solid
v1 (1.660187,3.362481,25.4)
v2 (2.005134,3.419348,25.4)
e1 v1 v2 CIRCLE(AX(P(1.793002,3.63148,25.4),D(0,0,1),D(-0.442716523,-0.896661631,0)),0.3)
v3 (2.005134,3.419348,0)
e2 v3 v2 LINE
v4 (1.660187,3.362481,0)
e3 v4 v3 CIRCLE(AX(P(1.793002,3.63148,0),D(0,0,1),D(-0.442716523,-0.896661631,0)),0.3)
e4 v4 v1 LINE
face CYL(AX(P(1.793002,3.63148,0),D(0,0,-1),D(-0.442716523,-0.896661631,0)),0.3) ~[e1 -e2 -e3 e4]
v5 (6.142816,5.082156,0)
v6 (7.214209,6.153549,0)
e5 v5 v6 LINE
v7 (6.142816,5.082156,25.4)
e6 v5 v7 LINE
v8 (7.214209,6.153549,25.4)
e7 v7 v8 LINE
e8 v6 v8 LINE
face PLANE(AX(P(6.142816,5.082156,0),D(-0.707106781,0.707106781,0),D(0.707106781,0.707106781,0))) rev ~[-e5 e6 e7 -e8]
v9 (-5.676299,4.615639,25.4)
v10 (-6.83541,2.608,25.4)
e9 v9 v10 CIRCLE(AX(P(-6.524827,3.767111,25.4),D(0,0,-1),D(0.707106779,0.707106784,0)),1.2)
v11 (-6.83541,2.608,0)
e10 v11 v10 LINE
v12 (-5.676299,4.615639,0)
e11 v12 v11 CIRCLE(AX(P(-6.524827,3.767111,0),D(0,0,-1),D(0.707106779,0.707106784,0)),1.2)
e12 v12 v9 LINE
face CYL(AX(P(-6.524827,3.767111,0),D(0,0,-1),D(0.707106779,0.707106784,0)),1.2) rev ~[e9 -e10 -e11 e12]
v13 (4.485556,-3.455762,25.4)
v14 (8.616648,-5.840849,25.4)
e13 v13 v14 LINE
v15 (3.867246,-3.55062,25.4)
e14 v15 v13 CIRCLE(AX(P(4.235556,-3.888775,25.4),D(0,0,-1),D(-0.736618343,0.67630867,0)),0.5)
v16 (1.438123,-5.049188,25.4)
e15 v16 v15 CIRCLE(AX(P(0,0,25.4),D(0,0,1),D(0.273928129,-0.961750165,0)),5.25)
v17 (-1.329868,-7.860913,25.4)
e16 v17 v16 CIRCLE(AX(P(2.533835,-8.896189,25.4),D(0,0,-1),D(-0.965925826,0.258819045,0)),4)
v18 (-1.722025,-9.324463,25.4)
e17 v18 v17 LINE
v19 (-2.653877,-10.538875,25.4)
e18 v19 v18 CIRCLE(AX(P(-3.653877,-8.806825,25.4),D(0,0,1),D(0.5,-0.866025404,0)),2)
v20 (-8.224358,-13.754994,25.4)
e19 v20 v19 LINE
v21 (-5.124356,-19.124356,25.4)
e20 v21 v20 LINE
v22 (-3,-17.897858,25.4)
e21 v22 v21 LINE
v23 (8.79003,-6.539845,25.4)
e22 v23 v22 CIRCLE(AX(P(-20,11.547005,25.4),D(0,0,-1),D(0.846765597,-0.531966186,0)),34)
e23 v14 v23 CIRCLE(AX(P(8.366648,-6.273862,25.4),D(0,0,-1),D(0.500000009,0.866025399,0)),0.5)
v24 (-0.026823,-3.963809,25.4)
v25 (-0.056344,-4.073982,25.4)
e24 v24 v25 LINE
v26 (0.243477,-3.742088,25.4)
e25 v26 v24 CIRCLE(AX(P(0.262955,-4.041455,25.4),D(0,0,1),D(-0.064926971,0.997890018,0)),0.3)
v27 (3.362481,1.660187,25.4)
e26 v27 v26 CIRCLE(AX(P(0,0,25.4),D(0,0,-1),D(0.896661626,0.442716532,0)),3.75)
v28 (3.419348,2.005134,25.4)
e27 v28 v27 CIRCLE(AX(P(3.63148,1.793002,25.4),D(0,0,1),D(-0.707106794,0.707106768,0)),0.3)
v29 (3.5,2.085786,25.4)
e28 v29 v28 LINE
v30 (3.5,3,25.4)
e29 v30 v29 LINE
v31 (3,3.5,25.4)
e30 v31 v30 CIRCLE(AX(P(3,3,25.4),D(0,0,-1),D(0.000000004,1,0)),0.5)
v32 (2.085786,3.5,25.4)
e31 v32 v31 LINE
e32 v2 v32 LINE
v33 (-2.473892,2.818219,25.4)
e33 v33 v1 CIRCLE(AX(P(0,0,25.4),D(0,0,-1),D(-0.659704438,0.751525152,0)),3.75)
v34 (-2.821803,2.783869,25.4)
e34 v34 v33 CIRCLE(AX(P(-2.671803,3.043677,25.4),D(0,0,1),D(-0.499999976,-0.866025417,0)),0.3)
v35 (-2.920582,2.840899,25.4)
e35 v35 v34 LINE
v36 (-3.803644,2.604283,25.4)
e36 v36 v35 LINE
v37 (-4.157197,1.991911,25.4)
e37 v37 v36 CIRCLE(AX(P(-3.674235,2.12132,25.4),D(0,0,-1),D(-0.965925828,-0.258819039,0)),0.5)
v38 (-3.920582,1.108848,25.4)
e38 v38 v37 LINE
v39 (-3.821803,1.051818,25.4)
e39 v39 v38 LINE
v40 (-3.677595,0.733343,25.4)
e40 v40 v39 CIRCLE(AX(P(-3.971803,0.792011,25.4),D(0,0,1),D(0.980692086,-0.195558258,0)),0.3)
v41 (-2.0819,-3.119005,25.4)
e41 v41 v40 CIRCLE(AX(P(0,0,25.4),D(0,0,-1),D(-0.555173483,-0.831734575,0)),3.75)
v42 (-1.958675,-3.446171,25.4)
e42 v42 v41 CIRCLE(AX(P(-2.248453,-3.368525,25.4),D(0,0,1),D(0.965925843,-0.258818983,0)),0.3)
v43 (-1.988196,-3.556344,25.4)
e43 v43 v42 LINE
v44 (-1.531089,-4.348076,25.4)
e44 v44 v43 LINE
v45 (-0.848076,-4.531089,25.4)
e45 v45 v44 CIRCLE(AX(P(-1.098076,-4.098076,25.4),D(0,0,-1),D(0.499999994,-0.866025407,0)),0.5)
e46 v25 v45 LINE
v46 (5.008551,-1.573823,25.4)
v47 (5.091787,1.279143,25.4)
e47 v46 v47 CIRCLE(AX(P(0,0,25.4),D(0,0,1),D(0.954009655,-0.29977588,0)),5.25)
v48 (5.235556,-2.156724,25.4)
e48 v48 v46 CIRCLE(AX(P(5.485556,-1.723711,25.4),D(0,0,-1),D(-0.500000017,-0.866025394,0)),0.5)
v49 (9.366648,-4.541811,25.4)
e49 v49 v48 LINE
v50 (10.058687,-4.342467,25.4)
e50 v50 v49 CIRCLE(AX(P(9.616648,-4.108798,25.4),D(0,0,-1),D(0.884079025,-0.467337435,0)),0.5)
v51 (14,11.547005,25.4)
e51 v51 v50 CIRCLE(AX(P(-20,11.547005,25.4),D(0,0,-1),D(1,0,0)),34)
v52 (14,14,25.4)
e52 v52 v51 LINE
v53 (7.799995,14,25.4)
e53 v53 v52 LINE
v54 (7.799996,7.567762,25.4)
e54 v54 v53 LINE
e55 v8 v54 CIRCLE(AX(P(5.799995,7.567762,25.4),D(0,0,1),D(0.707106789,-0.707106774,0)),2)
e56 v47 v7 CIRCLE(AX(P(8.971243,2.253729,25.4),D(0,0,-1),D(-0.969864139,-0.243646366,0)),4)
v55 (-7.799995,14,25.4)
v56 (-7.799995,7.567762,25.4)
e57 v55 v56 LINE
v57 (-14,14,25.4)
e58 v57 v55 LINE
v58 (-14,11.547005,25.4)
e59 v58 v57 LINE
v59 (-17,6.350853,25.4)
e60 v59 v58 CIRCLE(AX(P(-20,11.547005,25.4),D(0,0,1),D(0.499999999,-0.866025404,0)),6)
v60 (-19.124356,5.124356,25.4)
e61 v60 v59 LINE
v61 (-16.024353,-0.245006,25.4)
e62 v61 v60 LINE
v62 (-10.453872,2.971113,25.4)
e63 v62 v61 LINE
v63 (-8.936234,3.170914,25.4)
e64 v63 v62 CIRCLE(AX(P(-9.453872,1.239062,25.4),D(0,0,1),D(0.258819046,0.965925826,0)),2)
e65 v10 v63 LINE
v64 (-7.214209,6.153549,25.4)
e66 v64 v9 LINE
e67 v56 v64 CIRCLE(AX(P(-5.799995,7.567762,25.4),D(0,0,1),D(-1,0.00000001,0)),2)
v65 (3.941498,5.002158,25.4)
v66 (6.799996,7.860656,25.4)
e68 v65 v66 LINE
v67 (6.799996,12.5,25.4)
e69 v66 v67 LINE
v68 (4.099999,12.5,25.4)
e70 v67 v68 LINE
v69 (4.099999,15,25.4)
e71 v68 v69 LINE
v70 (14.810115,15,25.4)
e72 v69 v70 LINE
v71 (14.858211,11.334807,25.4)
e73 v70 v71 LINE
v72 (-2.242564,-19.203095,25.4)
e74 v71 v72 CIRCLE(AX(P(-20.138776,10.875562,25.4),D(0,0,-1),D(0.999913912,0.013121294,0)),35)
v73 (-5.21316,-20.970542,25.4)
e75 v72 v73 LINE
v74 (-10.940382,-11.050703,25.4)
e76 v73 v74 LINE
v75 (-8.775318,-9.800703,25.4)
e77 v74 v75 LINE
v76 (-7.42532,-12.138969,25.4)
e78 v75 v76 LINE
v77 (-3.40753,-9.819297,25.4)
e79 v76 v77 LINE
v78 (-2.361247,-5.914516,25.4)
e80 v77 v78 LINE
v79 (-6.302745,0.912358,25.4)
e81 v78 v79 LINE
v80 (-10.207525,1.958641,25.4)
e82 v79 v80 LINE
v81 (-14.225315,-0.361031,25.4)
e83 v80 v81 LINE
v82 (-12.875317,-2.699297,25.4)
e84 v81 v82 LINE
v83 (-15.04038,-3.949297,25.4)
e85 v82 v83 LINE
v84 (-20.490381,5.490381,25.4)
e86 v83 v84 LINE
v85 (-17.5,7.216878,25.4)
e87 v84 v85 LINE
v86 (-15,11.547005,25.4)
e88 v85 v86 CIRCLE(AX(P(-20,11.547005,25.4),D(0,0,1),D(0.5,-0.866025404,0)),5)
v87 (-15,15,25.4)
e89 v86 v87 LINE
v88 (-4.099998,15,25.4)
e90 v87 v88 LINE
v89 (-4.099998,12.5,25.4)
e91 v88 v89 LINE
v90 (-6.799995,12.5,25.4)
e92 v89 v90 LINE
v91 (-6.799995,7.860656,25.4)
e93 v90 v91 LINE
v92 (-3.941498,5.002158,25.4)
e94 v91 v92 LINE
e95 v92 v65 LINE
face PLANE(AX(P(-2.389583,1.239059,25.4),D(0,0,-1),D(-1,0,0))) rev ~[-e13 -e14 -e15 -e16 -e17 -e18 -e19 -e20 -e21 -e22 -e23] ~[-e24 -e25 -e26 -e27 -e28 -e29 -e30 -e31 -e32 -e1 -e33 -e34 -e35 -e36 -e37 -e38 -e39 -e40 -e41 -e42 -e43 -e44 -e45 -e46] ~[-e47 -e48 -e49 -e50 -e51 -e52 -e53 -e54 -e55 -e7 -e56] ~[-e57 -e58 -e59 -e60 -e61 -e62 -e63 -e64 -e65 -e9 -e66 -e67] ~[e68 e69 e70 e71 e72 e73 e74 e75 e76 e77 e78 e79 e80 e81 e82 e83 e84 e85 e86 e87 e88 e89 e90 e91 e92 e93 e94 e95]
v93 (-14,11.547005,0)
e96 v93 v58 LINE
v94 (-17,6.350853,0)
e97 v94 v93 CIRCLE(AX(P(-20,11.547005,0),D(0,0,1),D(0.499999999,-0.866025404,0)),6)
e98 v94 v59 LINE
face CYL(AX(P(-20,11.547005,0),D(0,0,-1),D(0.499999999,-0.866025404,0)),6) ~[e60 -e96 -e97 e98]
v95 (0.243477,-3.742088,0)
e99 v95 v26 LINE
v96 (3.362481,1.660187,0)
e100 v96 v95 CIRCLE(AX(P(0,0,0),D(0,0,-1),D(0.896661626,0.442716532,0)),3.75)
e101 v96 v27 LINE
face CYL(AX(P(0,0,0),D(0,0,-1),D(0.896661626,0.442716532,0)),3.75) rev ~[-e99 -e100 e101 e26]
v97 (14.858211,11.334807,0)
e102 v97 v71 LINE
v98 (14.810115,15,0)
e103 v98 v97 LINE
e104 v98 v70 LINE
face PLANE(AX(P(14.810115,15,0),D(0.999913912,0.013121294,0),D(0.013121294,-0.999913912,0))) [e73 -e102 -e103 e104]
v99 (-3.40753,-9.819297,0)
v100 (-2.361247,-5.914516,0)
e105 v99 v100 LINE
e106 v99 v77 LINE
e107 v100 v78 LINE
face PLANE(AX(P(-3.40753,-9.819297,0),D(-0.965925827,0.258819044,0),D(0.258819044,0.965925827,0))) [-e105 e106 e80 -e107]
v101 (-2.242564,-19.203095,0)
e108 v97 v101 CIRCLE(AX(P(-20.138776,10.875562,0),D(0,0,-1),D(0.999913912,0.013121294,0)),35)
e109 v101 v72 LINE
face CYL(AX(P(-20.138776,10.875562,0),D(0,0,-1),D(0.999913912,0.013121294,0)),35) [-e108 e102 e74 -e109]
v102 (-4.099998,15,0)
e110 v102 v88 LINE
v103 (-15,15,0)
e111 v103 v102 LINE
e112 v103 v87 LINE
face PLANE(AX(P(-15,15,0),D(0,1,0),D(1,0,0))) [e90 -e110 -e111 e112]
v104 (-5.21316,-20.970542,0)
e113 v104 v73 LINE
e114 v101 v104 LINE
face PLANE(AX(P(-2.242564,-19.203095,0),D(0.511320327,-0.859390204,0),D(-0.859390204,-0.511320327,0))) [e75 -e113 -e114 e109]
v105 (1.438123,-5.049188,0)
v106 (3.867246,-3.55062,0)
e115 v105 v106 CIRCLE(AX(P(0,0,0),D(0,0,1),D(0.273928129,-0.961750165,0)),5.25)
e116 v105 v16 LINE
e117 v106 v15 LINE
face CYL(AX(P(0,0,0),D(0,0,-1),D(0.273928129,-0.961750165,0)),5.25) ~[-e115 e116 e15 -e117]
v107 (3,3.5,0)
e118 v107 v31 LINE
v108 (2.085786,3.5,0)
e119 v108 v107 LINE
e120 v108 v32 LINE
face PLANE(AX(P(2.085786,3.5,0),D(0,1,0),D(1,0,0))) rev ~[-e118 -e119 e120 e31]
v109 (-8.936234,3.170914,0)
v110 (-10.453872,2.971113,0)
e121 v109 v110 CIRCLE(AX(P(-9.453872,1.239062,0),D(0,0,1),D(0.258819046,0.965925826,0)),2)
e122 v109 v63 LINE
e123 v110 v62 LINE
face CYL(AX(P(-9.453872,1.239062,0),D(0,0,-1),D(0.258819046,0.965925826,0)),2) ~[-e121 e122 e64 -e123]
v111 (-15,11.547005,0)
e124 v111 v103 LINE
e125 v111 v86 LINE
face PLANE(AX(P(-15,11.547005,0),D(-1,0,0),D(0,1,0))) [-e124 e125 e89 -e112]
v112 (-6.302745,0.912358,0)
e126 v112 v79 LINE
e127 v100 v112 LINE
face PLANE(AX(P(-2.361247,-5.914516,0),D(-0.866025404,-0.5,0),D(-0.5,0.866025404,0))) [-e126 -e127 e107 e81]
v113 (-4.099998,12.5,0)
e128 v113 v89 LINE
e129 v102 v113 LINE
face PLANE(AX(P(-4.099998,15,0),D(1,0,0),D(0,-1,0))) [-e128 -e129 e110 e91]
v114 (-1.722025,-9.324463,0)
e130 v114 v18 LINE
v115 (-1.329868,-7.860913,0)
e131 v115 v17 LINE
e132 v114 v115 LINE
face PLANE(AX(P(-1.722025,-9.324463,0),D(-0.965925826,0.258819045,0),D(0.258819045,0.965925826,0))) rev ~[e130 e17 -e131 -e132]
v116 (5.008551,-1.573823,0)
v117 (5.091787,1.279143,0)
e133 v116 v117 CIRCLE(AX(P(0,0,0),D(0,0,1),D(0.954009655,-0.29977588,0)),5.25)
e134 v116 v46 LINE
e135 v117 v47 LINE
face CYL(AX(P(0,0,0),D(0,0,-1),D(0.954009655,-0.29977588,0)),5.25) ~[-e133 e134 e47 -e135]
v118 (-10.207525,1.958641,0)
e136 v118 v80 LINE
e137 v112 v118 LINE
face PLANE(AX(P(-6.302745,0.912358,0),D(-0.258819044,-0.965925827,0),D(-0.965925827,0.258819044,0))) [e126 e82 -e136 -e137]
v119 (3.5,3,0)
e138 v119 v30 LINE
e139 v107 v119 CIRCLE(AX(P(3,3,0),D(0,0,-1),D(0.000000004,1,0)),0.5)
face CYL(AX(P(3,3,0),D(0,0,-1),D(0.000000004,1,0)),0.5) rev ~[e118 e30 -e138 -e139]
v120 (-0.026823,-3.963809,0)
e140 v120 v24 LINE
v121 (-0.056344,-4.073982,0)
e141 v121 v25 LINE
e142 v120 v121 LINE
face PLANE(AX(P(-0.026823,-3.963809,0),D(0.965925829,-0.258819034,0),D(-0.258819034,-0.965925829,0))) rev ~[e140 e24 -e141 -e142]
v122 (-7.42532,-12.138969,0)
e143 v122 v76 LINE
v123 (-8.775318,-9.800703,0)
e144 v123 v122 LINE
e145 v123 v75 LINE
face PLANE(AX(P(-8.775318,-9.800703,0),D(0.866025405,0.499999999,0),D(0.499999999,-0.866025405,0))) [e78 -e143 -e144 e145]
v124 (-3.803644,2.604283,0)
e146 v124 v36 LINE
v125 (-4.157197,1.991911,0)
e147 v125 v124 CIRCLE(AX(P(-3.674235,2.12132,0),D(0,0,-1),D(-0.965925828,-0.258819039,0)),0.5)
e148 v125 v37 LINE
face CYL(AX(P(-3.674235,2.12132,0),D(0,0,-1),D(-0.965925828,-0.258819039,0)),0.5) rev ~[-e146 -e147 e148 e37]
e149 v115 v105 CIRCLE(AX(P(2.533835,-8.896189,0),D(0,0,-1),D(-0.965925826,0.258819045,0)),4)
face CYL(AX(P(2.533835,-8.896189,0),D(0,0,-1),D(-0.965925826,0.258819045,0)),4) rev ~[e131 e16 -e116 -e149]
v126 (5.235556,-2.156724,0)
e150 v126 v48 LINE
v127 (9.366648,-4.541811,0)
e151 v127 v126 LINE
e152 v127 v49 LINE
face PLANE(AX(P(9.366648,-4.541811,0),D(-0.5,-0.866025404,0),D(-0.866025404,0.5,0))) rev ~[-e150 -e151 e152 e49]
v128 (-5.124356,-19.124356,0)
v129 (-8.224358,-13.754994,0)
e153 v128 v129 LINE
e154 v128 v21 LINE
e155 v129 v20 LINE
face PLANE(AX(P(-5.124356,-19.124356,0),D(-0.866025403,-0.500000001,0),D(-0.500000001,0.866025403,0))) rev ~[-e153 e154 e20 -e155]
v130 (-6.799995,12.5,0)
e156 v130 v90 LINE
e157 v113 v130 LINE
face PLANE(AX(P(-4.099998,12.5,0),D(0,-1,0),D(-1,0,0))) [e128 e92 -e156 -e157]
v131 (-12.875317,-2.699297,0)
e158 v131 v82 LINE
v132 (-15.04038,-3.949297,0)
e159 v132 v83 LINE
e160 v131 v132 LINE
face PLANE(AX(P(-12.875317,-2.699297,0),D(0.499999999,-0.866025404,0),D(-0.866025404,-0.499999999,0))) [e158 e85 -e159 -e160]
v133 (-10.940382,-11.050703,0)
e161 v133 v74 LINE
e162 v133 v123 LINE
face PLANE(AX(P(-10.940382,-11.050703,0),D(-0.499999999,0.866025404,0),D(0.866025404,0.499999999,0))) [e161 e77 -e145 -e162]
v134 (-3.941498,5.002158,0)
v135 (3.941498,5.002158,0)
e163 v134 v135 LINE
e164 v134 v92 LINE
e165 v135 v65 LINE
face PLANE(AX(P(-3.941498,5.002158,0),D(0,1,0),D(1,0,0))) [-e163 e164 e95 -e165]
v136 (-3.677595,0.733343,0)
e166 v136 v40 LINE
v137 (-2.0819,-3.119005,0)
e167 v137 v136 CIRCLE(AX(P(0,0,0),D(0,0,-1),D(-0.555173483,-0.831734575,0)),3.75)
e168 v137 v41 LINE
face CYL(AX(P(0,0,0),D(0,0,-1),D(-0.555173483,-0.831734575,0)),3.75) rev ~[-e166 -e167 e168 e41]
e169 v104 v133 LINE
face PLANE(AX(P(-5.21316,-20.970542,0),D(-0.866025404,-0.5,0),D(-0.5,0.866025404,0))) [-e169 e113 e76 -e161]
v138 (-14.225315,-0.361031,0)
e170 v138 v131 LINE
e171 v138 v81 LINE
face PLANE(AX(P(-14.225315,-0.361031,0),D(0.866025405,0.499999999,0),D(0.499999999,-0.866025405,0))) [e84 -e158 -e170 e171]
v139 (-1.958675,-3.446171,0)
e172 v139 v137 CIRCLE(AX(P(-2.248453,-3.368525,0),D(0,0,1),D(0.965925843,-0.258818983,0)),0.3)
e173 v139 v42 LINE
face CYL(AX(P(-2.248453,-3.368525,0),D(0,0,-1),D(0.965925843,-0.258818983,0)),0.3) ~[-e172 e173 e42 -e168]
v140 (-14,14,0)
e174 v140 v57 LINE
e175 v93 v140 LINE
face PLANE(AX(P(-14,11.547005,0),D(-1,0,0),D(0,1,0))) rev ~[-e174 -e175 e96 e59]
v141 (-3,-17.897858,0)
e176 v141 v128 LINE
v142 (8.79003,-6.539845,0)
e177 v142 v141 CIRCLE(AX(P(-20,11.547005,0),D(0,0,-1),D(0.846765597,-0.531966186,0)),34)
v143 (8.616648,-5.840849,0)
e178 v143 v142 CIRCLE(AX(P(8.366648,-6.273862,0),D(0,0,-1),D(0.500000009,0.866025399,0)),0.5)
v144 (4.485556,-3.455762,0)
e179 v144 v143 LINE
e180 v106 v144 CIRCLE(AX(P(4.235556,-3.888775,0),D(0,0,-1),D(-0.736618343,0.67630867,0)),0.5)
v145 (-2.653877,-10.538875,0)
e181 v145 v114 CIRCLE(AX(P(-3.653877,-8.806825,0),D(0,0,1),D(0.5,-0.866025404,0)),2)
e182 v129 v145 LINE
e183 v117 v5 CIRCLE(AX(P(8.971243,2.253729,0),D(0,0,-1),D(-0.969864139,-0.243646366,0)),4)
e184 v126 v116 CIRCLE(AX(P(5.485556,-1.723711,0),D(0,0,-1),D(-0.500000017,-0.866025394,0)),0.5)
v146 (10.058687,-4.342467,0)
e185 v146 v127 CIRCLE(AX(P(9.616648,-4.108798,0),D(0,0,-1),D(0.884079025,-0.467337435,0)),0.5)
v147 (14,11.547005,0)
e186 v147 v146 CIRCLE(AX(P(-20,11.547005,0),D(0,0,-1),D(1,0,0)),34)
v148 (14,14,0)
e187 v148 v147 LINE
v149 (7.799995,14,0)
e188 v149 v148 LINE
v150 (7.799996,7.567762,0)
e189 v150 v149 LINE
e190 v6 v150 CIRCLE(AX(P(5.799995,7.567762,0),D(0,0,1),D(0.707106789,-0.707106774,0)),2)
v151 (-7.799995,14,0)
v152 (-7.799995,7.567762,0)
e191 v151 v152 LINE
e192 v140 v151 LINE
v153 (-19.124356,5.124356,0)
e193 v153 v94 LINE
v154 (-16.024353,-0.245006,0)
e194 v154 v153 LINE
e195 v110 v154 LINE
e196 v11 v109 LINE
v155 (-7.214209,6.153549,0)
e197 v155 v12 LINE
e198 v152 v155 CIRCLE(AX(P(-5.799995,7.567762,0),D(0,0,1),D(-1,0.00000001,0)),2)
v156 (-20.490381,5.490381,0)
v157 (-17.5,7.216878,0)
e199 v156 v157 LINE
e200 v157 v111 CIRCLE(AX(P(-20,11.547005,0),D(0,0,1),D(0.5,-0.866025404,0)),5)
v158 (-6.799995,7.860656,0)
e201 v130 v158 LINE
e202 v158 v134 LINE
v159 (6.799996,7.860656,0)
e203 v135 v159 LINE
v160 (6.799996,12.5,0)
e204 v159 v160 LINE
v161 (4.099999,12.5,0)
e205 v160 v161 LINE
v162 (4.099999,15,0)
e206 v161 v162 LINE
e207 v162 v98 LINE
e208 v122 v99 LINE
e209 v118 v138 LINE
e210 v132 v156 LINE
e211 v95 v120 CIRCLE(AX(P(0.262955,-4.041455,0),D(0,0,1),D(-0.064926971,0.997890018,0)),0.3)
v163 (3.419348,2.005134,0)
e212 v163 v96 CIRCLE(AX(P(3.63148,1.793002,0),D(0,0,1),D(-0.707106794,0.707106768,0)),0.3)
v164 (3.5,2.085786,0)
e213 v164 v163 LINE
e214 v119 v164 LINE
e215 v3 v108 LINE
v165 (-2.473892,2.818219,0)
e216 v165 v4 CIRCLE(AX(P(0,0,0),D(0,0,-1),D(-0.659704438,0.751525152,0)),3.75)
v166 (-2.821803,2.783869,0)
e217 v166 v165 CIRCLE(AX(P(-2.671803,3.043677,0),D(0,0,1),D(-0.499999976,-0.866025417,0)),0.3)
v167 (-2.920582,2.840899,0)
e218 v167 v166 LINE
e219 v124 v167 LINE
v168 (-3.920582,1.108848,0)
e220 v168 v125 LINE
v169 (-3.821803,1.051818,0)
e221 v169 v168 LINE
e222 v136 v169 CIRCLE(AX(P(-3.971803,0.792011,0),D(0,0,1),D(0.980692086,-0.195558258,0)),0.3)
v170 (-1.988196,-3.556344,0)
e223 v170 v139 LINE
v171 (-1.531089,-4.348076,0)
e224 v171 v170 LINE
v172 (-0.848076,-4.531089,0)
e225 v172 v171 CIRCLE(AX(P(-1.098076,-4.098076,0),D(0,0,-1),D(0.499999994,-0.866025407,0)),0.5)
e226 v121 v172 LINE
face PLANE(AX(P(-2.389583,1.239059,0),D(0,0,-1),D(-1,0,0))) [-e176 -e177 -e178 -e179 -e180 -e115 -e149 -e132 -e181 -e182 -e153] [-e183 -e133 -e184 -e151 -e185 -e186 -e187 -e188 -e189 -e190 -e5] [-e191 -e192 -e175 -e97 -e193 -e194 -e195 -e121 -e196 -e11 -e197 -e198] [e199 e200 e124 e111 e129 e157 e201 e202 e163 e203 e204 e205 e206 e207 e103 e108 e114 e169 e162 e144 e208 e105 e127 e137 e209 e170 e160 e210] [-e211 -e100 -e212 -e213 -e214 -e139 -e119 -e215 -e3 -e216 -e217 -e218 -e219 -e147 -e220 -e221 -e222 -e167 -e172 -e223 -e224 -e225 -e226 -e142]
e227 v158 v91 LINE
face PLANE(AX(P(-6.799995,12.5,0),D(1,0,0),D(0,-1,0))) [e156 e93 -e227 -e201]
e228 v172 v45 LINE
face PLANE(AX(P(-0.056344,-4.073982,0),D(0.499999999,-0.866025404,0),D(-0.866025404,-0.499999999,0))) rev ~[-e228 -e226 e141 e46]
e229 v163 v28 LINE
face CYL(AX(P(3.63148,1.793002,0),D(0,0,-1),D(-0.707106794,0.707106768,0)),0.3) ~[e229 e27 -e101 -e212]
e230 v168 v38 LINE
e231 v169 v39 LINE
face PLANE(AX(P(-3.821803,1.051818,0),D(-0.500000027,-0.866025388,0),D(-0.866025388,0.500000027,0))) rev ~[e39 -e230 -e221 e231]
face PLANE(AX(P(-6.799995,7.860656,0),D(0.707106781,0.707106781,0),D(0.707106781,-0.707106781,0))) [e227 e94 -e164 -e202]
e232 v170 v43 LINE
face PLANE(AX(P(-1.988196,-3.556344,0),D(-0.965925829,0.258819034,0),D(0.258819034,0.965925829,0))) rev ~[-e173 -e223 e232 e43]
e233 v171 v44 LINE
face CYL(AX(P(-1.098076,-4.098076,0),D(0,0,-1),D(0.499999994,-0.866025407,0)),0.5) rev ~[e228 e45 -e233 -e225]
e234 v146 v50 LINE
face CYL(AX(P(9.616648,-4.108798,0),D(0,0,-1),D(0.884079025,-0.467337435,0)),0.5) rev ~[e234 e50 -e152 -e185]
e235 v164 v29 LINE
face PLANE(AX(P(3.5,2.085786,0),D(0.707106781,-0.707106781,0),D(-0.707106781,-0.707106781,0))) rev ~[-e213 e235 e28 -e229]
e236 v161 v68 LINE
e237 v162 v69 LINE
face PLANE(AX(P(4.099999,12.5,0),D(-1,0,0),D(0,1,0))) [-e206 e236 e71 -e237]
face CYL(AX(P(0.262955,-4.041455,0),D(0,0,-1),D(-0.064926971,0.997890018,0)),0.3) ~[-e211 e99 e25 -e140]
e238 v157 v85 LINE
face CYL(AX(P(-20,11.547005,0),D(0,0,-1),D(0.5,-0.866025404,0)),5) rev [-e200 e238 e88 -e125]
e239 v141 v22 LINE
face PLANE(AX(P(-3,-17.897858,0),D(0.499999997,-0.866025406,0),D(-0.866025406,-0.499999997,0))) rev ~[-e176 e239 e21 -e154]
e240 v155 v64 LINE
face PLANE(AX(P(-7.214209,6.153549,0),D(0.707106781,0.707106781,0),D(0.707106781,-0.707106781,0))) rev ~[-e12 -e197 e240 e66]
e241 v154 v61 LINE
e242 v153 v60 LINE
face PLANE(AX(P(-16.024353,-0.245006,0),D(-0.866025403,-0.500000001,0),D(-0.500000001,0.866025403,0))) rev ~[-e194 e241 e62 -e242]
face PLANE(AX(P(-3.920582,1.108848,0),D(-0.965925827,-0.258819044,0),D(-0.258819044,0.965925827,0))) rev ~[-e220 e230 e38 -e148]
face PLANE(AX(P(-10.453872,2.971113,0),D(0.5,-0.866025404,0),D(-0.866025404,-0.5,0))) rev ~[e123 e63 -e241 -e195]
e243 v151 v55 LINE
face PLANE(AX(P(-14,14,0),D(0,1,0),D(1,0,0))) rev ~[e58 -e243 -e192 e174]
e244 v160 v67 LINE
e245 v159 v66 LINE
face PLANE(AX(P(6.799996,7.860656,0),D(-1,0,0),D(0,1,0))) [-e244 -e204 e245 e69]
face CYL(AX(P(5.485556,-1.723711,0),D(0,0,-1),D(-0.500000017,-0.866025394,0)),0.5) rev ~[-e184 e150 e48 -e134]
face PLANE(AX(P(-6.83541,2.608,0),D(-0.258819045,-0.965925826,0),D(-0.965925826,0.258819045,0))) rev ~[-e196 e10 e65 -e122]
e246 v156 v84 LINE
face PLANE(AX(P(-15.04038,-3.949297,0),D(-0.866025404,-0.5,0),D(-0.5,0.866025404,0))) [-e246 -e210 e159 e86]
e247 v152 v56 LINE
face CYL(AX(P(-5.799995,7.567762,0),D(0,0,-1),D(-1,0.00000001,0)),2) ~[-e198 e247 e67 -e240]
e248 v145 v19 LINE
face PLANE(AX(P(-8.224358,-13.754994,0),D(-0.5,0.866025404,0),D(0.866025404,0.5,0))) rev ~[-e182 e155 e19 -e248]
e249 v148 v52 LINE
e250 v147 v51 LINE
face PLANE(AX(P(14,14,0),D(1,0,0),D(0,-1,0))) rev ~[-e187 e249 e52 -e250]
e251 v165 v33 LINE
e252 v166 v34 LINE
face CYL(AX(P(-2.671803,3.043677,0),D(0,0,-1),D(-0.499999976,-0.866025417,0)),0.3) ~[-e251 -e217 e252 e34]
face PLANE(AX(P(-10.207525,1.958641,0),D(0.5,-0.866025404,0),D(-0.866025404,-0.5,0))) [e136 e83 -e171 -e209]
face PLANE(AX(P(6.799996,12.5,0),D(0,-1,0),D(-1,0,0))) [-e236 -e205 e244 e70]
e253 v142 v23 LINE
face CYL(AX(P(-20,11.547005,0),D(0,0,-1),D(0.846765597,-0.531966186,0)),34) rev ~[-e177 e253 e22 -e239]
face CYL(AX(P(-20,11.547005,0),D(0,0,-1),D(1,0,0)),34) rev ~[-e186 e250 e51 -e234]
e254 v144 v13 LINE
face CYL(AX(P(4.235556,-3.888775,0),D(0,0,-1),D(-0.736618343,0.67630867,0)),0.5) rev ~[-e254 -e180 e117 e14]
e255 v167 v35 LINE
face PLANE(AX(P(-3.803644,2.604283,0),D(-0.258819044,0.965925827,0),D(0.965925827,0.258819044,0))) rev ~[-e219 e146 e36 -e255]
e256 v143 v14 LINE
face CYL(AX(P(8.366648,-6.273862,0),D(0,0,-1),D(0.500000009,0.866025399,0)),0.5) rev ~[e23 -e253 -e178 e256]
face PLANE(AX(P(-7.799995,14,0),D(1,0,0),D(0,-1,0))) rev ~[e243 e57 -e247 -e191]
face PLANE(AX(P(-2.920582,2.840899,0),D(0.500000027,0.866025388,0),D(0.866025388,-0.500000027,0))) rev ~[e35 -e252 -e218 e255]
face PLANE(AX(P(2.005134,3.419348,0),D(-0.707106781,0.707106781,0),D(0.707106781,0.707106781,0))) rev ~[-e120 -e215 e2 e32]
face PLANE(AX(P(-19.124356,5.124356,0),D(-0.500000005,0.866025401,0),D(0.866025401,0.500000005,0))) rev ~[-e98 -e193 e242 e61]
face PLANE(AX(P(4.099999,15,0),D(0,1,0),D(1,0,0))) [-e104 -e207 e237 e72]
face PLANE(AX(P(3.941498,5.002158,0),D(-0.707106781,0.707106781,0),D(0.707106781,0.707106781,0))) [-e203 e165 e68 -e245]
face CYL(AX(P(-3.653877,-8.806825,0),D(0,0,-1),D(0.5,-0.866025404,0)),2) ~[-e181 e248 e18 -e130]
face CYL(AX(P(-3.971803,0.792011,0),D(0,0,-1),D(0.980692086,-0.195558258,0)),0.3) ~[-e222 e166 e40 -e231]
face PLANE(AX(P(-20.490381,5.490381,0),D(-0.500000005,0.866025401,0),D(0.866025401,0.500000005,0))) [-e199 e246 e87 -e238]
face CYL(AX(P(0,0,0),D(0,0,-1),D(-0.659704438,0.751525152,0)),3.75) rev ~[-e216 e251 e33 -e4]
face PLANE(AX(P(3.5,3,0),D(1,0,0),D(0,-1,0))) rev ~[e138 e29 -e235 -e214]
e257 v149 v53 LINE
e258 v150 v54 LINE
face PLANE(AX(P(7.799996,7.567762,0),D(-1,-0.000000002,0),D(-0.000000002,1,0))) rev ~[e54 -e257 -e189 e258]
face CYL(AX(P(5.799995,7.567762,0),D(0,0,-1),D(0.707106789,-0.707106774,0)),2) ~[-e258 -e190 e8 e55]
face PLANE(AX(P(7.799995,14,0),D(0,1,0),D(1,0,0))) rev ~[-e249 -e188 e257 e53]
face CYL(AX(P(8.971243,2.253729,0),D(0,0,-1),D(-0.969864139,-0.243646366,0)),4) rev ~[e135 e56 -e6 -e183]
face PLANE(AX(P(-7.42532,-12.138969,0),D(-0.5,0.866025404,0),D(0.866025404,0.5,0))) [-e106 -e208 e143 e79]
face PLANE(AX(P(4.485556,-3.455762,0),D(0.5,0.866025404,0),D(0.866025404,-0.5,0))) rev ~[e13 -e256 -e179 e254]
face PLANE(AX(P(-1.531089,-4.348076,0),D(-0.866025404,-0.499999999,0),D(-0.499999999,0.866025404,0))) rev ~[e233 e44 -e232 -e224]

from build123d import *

# Parameters (mm, degrees)
EXTRUSION4_DEPTH = 25.4


with BuildPart() as part:
    # Sketch1 → Extrusion4 (new body)
    with BuildSketch(Plane.XY):
        with BuildLine():
            Line((-14.999999918, 14.999999985), (-4.099998388, 14.999999985))
            Line((-4.099998388, 14.999999985), (-4.099998388, 12.499999985))
            Line((-4.099998388, 12.499999985), (-6.799995338, 12.499999985))
            Line((-6.799995338, 12.499999985), (-6.799995338, 7.860655585))
            Line((-6.799995338, 7.860655585), (-3.941497908, 5.002158155))
            Line((-3.941497908, 5.002158155), (3.941498082, 5.002158155))
            Line((3.941498082, 5.002158155), (6.799995512, 7.860655585))
            Line((6.799995512, 7.860655585), (6.799995512, 12.499999985))
            Line((6.799995512, 12.499999985), (4.099998562, 12.499999985))
            Line((4.099998562, 12.499999985), (4.099998562, 14.999999985))
            Line((4.099998562, 14.999999985), (14.810114901, 14.999999985))
            Line((14.810114901, 14.999999985), (14.858211116, 11.334807121))
            ThreePointArc((14.858211116, 11.334807121), (10.399126577, -6.225213544), (-2.242564242, -19.203095263))
            Line((-2.242564242, -19.203095263), (-5.213160142, -20.9705416))
            Line((-5.213160142, -20.9705416), (-10.940381729, -11.050702829))
            Line((-10.940381729, -11.050702829), (-8.775318226, -9.800702836))
            Line((-8.775318226, -9.800702836), (-7.425319757, -12.138968783))
            Line((-7.425319757, -12.138968783), (-3.407529648, -9.819296585))
            Line((-3.407529648, -9.819296585), (-2.361246978, -5.914516485))
            Line((-2.361246978, -5.914516485), (-6.302744968, 0.912358295))
            Line((-6.302744968, 0.912358295), (-10.207525068, 1.958640965))
            Line((-10.207525068, 1.958640965), (-14.225315169, -0.361031229))
            Line((-14.225315169, -0.361031229), (-12.875316699, -2.699297177))
            Line((-12.875316699, -2.699297177), (-15.040380206, -3.949297173))
            Line((-15.040380206, -3.949297173), (-20.490380962, 5.490381032))
            Line((-20.490380962, 5.490381032), (-17.499999918, 7.216878355))
            ThreePointArc((-17.499999918, 7.216878355), (-15.669872899, 9.047005374), (-14.999999918, 11.547005375))
            Line((-14.999999918, 11.547005375), (-14.999999918, 14.999999985))
        make_face()
        with BuildLine():
            Line((-3.803644053, 2.604283261), (-2.920581563, 2.840899141))
            Line((-2.920581563, 2.840899141), (-2.821802903, 2.783869251))
            ThreePointArc((-2.821802903, 2.783869251), (-2.642326542, 2.745128481), (-2.473891573, 2.818219331))
            ThreePointArc((-2.473891573, 2.818219331), (-0.48947315, 3.717918241), (1.660187067, 3.362481111))
            ThreePointArc((1.660187067, 3.362481111), (1.841800057, 3.335474951), (2.005134057, 3.419347561))
            Line((2.005134057, 3.419347561), (2.085786497, 3.500000001))
            Line((2.085786497, 3.500000001), (3.000000057, 3.500000001))
            ThreePointArc((3.000000057, 3.500000001), (3.353553447, 3.353553391), (3.500000057, 3.000000001))
            Line((3.500000057, 3.000000001), (3.500000057, 2.085786441))
            Line((3.500000057, 2.085786441), (3.419347617, 2.005134001))
            ThreePointArc((3.419347617, 2.005134001), (3.335475004, 1.841799992), (3.362481172, 1.660186995))
            ThreePointArc((3.362481172, 1.660186995), (3.247595339, -1.874999996), (0.243476512, -3.742087545))
            ThreePointArc((0.243476512, -3.742087545), (0.072691963, -3.809506014), (-0.026823118, -3.963808835))
            Line((-0.026823118, -3.963808835), (-0.056343958, -4.073982115))
            Line((-0.056343958, -4.073982115), (-0.848076128, -4.531088895))
            ThreePointArc((-0.848076128, -4.531088895), (-1.227485649, -4.581039105), (-1.531088828, -4.348076195))
            Line((-1.531088828, -4.348076195), (-1.988195608, -3.556344025))
            Line((-1.988195608, -3.556344025), (-1.958674768, -3.446170745))
            ThreePointArc((-1.958674768, -3.446170745), (-1.967705959, -3.262783044), (-2.081900468, -3.119004655))
            ThreePointArc((-2.081900468, -3.119004655), (-3.464548158, -1.435062862), (-3.677595258, 0.733343355))
            ThreePointArc((-3.677595258, 0.733343355), (-3.698514209, 0.915757746), (-3.821802888, 1.051818445))
            Line((-3.821802888, 1.051818445), (-3.920581548, 1.108848335))
            Line((-3.920581548, 1.108848335), (-4.157197428, 1.991910825))
            ThreePointArc((-4.157197428, 1.991910825), (-4.10724722, 2.371320342), (-3.803644053, 2.604283261))
        make_face(mode=Mode.SUBTRACT)
        with BuildLine():
            Line((-13.999999918, 11.547005365), (-13.999999918, 13.999999985))
            Line((-13.999999918, 13.999999985), (-7.799995348, 13.999999985))
            Line((-7.799995348, 13.999999985), (-7.799995348, 7.567762365))
            ThreePointArc((-7.799995348, 7.567762365), (-7.647754416, 6.802395499), (-7.214208908, 6.153548805))
            Line((-7.214208908, 6.153548805), (-5.676298958, 4.615638855))
            ThreePointArc((-5.676298958, 4.615638855), (-5.485596608, 3.167110716), (-6.835409948, 2.607999725))
            Line((-6.835409948, 2.607999725), (-8.936234008, 3.170913835))
            ThreePointArc((-8.936234008, 3.170913835), (-9.714924484, 3.221951904), (-10.453872098, 2.971112985))
            Line((-10.453872098, 2.971112985), (-16.024353279, -0.245005824))
            Line((-16.024353279, -0.245005824), (-19.124355567, 5.124355624))
            Line((-19.124355567, 5.124355624), (-16.999999918, 6.350852945))
            ThreePointArc((-16.999999918, 6.350852945), (-14.803847494, 8.547005366), (-13.999999918, 11.547005365))
        make_face(mode=Mode.SUBTRACT)
        with BuildLine():
            Line((7.799995502, 7.567762365), (7.799995491, 13.999999985))
            Line((7.799995491, 13.999999985), (14.000000062, 13.999999985))
            Line((14.000000062, 13.999999985), (14.000000062, 11.547005385))
            ThreePointArc((14.000000062, 11.547005385), (12.9999649, 3.361510856), (10.058687082, -4.342467065))
            ThreePointArc((10.058687082, -4.342467065), (9.755046631, -4.589262395), (9.366647572, -4.541811055))
            Line((9.366647572, -4.541811055), (5.235555602, -2.156723995))
            ThreePointArc((5.235555602, -2.156723995), (5.019640061, -1.905157444), (5.008550772, -1.573823355))
            ThreePointArc((5.008550772, -1.573823355), (5.247767117, -0.153104957), (5.091786812, 1.279143405))
            ThreePointArc((5.091786812, 1.279143405), (5.115772962, 3.319255937), (6.142816242, 5.082155985))
            Line((6.142816242, 5.082155985), (7.214209062, 6.153548805))
            ThreePointArc((7.214209062, 6.153548805), (7.647754561, 6.802395503), (7.799995502, 7.567762365))
        make_face(mode=Mode.SUBTRACT)
        with BuildLine():
            Line((-1.722025028, -9.324462665), (-1.329868038, -7.860912855))
            ThreePointArc((-1.329868038, -7.860912855), (-0.316673452, -6.090017259), (1.438122752, -5.049188375))
            ThreePointArc((1.438122752, -5.049188375), (2.756476373, -4.4681471), (3.867246431, -3.550620473))
            ThreePointArc((3.867246431, -3.550620473), (4.159734815, -3.394557032), (4.485555611, -3.455762103))
            Line((4.485555611, -3.455762103), (8.616647581, -5.840849163))
            ThreePointArc((8.616647581, -5.840849163), (8.851941182, -6.153486949), (8.790030382, -6.539844965))
            ThreePointArc((8.790030382, -6.539844965), (3.588828705, -12.939055237), (-2.999999918, -17.897858355))
            Line((-2.999999918, -17.897858355), (-5.124355566, -19.12435565))
            Line((-5.124355566, -19.12435565), (-8.224357859, -13.754994194))
            Line((-8.224357859, -13.754994194), (-2.653876678, -10.538875385))
            ThreePointArc((-2.653876678, -10.538875385), (-2.067169998, -10.024347435), (-1.722025028, -9.324462665))
        make_face(mode=Mode.SUBTRACT)
    extrude(amount=EXTRUSION4_DEPTH)


solid = part.part
